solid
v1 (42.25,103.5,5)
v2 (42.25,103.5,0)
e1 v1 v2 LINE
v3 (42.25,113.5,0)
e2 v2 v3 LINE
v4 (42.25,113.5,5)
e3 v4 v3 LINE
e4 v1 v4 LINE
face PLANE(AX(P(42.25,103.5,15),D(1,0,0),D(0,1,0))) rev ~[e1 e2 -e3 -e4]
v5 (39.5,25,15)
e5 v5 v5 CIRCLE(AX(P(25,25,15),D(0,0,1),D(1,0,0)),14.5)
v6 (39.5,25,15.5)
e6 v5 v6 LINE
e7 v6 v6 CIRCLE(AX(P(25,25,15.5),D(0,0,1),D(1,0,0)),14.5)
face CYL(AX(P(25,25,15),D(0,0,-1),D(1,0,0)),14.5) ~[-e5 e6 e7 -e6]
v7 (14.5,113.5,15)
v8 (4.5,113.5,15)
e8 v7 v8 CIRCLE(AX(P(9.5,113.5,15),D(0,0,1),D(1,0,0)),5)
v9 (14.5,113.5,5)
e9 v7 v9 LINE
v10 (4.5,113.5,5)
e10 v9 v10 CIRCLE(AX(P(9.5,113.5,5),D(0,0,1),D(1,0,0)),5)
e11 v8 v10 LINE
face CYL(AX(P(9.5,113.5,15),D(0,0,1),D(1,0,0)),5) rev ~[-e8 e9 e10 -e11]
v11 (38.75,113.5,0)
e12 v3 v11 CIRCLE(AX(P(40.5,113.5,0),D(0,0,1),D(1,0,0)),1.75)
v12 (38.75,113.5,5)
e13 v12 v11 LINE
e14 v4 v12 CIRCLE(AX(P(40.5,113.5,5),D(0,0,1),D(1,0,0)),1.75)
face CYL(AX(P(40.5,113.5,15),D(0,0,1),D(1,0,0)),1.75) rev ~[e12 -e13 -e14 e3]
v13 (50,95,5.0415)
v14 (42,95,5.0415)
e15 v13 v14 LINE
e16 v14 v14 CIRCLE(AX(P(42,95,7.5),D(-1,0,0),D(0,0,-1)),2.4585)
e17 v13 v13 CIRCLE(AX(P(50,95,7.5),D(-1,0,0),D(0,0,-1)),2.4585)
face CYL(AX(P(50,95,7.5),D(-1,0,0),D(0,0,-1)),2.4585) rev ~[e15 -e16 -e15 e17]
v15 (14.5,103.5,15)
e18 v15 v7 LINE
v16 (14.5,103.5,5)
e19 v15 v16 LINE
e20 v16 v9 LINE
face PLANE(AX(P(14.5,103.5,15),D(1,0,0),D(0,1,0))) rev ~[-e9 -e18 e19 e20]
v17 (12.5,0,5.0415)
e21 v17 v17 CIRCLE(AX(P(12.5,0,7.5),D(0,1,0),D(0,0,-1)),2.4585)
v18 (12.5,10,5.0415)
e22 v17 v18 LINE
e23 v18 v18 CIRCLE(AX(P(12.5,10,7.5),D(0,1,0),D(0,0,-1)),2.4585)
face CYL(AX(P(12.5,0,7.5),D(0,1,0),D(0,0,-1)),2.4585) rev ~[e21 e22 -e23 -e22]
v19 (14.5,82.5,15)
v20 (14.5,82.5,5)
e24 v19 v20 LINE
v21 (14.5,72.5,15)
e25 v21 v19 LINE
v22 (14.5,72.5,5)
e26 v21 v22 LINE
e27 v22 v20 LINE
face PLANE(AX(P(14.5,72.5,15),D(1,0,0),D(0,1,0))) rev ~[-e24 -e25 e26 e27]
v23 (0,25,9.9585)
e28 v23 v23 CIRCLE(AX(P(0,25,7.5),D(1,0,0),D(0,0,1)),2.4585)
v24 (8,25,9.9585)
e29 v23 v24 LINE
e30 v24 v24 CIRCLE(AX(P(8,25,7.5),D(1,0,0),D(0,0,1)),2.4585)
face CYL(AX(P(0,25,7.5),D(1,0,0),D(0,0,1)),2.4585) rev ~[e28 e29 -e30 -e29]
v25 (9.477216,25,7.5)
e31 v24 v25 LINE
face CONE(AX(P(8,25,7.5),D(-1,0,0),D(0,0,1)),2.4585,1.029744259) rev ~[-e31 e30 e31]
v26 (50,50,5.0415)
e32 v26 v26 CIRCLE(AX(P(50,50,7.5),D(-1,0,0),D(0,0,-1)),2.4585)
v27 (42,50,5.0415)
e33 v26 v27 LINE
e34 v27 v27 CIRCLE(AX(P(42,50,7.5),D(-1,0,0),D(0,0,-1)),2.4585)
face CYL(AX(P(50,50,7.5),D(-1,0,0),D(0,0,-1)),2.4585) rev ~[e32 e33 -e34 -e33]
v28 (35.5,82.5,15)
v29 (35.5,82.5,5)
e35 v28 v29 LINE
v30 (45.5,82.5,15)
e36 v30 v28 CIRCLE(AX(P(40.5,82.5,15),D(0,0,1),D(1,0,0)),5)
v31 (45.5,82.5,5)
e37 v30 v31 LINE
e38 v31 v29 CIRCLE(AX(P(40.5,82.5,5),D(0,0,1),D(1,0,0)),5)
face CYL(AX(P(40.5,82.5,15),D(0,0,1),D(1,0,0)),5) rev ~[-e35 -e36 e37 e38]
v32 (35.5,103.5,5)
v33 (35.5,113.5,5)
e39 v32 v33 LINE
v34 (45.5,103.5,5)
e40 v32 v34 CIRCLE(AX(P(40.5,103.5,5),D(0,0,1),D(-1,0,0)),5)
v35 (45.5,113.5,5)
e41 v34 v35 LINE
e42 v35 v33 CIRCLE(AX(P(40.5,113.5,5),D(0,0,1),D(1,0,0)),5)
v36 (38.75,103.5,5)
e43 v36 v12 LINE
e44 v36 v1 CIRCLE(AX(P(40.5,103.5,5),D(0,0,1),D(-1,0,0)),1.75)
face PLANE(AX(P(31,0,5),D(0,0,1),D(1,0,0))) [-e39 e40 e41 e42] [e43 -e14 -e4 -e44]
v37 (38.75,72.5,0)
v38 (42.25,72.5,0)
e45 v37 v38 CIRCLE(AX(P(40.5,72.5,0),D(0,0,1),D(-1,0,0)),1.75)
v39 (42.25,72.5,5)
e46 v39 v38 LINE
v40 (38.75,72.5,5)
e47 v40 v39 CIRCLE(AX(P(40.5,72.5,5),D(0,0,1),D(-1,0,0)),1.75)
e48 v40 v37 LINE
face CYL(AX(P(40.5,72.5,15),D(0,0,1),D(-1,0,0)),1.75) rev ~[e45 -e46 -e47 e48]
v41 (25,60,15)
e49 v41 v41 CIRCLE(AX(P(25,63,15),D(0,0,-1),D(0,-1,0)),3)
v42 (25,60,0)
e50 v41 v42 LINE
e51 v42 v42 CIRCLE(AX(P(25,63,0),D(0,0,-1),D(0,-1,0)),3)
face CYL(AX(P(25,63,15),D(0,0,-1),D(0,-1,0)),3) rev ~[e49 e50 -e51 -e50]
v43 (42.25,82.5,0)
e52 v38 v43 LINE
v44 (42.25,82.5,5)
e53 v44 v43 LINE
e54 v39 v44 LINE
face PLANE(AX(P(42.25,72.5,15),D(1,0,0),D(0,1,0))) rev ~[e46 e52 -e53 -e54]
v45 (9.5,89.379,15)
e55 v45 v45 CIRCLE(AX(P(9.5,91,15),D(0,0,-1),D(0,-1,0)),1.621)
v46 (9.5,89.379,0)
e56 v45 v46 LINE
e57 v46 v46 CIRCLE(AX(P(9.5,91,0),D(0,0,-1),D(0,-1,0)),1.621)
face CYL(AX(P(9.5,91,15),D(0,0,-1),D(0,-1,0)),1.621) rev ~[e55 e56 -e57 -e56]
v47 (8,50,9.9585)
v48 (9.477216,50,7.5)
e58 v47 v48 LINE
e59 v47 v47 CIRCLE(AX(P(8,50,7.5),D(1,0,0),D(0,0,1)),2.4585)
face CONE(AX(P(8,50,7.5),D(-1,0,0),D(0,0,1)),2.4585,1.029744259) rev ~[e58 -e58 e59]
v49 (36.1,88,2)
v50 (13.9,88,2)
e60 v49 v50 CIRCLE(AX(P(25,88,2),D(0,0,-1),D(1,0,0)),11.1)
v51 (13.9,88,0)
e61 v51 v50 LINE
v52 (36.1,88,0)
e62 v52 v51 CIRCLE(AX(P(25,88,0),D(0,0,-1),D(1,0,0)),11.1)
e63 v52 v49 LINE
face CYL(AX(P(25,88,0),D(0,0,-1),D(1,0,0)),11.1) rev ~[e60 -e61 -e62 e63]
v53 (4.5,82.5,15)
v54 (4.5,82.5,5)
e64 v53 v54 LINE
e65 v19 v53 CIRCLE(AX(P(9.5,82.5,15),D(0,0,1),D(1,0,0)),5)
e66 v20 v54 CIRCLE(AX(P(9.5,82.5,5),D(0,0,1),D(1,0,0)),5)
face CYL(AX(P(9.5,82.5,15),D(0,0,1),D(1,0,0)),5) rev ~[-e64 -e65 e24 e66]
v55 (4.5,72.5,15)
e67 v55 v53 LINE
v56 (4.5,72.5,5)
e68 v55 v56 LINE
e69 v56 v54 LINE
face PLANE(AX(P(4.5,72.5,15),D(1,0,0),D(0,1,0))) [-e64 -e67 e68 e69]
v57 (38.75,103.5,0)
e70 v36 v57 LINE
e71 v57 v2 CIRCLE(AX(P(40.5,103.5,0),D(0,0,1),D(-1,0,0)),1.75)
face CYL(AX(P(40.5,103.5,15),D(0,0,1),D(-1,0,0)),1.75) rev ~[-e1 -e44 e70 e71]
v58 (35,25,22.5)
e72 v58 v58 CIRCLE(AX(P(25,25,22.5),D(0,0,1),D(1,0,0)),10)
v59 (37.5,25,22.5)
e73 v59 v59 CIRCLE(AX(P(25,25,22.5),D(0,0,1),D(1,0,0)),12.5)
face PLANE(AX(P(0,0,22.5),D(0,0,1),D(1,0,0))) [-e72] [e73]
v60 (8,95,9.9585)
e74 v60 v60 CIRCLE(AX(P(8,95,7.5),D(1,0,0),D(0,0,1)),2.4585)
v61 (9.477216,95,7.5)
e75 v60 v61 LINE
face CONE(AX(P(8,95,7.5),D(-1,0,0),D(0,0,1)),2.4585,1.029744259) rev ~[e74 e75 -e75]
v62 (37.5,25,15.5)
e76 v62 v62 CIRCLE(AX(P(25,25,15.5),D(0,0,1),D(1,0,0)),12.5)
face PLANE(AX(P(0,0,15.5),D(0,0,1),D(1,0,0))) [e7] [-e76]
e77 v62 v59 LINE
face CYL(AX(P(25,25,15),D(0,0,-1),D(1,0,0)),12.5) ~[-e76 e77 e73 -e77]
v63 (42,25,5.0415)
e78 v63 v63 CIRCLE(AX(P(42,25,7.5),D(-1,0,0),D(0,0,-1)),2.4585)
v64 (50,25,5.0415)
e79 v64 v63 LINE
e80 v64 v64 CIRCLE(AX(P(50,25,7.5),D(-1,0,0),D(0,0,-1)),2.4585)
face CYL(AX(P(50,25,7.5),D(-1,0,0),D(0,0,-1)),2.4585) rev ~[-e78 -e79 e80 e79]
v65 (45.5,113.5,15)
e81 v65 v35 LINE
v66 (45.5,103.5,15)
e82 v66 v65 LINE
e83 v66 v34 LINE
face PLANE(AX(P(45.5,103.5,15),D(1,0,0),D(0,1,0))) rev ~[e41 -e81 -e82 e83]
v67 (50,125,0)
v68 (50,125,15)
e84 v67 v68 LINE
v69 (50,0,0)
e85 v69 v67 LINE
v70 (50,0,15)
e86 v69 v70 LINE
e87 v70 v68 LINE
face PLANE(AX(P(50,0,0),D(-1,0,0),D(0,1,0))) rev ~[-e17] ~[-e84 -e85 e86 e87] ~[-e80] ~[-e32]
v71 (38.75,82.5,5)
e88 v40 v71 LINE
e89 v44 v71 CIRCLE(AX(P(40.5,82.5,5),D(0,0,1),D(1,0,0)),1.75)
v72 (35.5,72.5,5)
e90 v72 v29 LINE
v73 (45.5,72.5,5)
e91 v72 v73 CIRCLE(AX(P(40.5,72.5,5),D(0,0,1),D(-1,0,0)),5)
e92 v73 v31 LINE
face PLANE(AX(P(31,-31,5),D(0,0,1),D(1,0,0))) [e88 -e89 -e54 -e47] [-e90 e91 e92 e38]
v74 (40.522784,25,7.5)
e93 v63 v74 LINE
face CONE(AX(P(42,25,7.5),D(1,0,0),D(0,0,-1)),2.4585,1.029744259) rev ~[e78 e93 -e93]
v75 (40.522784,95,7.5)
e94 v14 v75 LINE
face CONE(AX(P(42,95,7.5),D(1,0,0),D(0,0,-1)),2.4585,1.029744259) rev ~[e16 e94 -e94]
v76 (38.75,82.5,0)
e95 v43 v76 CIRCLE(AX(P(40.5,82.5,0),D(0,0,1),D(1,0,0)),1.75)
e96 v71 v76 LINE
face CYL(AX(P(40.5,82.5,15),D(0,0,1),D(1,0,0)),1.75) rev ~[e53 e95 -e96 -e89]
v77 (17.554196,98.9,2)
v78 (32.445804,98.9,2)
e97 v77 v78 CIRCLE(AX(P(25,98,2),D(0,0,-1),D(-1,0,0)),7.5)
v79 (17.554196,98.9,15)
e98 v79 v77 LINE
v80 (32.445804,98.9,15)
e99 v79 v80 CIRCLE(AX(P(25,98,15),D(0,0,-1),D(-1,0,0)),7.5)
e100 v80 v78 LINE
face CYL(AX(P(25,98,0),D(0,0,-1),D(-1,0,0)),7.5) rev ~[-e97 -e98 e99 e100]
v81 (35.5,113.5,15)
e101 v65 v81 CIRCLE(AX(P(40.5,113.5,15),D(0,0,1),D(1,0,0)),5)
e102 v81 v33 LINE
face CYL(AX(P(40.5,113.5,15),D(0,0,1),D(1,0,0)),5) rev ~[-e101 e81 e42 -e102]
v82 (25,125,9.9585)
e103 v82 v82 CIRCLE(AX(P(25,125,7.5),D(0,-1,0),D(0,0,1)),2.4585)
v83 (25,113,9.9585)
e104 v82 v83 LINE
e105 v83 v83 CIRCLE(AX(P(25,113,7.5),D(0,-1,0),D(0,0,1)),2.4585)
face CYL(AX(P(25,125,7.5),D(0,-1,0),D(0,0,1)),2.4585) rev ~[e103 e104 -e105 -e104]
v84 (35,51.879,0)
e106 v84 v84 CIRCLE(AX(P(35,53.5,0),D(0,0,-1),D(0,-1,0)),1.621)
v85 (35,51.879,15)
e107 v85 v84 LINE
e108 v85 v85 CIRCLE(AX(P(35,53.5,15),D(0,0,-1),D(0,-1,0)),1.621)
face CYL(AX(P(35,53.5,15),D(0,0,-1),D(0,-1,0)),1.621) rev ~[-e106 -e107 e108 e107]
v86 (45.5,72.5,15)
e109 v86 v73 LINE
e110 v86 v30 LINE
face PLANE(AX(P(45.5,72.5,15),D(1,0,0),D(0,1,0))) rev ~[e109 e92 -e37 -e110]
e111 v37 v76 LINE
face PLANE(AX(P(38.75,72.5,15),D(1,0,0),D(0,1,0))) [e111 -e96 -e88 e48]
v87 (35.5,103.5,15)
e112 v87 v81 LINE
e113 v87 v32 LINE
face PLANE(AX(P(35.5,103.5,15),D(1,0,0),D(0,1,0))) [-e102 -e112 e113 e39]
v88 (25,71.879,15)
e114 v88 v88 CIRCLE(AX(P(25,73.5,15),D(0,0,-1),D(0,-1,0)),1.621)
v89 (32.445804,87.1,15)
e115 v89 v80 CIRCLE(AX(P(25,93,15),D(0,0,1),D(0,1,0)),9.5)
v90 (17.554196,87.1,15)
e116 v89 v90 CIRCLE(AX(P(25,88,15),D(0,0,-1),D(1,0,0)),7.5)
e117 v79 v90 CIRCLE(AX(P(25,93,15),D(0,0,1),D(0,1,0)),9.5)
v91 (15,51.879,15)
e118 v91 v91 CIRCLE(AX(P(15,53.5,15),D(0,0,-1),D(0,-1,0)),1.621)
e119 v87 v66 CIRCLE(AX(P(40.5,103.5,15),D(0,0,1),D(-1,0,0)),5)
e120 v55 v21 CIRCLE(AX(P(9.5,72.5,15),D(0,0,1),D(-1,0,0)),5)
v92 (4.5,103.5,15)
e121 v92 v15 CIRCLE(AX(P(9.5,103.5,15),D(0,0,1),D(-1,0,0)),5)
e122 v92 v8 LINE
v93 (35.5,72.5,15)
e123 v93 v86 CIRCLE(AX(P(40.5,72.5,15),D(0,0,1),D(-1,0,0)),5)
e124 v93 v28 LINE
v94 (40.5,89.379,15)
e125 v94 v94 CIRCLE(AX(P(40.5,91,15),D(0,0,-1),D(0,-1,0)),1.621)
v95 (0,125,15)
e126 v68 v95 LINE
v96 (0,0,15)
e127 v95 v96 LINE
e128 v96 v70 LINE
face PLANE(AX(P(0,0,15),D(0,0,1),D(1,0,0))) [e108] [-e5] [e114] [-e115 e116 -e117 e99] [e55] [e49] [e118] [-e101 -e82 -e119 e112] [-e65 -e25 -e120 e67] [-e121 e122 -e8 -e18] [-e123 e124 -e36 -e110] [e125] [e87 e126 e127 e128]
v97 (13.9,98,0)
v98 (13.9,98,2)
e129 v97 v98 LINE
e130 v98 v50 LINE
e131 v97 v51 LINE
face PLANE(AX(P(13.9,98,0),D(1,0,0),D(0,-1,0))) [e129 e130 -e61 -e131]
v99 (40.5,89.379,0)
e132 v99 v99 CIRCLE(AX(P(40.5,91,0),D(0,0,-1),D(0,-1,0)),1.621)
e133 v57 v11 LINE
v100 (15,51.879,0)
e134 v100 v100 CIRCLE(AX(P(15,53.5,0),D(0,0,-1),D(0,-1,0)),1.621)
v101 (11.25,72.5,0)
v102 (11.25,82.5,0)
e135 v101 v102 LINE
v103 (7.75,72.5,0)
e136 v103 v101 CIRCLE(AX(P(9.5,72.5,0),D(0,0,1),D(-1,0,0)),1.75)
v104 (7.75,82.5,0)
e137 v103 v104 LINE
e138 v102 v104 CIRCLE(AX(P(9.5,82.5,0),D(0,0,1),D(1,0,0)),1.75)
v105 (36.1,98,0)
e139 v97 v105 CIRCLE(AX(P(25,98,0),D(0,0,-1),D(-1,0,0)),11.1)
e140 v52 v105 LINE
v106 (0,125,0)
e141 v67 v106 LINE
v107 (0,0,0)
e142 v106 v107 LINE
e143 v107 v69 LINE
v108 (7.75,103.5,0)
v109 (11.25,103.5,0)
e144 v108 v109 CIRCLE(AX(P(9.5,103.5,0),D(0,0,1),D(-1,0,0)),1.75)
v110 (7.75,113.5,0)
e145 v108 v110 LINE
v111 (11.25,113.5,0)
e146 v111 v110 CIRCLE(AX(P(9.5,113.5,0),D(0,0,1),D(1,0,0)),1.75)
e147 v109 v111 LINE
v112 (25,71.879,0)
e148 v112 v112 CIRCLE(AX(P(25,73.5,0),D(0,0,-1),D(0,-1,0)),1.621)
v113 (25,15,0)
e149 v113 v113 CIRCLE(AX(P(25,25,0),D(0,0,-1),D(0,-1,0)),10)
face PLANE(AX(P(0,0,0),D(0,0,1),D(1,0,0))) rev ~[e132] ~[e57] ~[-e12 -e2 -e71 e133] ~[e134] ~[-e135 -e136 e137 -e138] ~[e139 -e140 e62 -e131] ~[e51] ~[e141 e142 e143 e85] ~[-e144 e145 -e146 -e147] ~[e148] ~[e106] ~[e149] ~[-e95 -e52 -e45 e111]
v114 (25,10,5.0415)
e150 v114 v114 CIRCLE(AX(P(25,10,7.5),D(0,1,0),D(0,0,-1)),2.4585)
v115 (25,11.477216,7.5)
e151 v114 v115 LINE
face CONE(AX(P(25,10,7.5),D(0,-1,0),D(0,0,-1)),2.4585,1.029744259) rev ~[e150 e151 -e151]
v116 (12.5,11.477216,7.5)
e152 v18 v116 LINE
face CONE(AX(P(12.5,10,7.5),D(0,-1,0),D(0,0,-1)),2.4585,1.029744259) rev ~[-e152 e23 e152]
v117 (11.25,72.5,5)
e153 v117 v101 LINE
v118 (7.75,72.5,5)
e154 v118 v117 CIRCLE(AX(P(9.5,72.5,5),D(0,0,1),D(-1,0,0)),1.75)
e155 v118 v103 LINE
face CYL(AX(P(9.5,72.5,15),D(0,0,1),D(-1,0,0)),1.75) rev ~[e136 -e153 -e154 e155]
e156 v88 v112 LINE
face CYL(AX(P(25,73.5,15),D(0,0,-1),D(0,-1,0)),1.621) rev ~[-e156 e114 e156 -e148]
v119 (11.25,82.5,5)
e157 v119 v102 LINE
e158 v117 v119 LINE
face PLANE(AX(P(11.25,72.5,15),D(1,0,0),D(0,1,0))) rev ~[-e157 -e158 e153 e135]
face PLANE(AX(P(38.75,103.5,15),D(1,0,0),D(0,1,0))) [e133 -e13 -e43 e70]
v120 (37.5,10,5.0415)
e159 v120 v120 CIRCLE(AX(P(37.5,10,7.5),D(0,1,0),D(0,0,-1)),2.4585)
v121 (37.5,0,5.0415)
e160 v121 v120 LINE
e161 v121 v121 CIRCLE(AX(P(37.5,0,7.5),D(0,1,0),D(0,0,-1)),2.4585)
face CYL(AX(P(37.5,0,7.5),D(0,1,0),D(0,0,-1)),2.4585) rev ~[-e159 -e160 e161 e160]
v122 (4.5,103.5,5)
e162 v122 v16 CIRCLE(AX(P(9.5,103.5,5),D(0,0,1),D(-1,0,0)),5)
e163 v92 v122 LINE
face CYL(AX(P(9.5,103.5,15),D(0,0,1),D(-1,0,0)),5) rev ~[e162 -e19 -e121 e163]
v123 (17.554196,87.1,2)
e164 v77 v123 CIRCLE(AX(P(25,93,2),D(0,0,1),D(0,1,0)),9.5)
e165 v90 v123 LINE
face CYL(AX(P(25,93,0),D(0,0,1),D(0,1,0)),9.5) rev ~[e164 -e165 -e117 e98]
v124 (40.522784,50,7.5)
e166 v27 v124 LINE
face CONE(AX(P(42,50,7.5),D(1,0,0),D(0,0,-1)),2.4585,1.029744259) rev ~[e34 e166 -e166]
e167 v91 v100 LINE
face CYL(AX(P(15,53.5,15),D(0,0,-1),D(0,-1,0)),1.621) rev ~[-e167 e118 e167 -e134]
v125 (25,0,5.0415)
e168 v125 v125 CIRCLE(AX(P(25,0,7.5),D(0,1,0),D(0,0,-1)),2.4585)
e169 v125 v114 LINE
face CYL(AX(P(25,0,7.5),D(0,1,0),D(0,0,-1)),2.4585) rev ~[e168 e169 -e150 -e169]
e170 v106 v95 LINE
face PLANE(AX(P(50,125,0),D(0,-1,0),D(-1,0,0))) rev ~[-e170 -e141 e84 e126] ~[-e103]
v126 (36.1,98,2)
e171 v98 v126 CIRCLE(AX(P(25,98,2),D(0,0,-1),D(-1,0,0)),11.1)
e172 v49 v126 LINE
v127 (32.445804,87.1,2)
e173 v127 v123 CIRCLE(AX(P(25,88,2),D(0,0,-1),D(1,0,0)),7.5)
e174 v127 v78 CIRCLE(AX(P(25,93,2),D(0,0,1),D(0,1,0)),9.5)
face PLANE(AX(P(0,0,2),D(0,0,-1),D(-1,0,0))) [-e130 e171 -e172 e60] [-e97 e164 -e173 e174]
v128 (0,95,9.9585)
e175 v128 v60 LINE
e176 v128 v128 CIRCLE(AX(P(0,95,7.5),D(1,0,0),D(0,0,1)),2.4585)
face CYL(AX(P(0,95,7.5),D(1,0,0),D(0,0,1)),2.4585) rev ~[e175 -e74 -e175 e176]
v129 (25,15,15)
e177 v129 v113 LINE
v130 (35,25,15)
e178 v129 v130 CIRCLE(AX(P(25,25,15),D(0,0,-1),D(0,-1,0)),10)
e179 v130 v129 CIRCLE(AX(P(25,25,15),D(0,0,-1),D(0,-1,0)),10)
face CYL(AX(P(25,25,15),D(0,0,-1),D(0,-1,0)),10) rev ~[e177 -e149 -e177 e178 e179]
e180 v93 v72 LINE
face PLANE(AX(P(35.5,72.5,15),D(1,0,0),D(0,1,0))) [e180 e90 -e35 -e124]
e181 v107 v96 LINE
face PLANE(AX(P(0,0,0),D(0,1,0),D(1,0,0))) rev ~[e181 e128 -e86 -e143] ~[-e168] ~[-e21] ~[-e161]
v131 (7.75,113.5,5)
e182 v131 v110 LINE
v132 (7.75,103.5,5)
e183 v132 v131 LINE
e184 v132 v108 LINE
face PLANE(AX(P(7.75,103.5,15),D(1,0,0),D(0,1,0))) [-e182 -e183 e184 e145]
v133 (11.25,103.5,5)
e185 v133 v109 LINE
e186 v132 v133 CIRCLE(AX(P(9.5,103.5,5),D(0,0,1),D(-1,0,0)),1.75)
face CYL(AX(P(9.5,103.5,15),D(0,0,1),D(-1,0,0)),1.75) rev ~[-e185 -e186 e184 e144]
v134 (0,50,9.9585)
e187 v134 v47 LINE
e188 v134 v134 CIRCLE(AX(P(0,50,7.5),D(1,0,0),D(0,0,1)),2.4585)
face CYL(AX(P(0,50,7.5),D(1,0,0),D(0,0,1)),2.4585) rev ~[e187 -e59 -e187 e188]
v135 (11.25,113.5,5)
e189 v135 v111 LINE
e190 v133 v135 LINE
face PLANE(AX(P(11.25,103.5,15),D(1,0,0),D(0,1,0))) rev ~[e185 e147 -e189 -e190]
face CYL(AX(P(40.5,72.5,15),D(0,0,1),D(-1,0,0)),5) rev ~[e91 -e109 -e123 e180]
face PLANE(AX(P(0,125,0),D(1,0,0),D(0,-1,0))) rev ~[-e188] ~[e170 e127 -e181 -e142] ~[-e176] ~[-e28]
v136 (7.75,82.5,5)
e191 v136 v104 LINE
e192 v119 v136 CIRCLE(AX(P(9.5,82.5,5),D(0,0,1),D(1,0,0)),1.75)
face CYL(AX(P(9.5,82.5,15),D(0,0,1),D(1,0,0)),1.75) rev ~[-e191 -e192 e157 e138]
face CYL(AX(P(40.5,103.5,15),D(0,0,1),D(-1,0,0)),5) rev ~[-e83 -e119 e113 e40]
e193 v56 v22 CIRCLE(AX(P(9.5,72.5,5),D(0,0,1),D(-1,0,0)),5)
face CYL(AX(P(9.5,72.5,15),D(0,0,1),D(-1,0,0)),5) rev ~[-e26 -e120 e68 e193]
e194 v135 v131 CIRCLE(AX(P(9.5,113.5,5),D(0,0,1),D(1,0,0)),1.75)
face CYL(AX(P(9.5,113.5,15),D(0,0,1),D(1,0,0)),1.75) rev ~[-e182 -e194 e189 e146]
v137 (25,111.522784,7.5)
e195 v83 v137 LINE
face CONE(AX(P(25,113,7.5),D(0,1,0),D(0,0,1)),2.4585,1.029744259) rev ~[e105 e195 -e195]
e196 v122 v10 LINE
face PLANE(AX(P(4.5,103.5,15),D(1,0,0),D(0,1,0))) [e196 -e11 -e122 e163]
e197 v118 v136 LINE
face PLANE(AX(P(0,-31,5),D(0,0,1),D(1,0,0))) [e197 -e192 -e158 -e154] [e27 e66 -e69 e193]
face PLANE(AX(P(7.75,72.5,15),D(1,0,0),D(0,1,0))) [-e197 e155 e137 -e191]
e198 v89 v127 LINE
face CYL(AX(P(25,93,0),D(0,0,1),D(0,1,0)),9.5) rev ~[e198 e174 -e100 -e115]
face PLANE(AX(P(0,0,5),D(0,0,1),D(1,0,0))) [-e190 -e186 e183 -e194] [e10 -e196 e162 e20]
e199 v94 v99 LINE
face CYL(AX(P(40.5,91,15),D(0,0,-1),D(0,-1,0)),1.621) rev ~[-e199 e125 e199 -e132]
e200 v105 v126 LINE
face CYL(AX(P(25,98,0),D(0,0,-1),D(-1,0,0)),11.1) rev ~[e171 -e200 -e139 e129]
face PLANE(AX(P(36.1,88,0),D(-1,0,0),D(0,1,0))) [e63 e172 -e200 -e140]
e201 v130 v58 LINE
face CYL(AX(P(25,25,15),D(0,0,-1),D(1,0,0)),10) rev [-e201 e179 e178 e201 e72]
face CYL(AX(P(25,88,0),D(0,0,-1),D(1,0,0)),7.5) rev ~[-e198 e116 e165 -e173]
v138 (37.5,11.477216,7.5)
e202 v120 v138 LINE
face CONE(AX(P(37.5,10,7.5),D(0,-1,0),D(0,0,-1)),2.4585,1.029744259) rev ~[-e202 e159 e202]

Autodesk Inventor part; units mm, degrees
ref_plane "YZ Plane" through (0, 0, 0) normal (1, 0, 0) x (0, 1, 0)
ref_plane "XZ Plane" through (0, 0, 0) normal (0, 1, 0) x (-1, 0, 0)
ref_plane "XY Plane" through (0, 0, 0) normal (0, 0, 1) x (1, 0, 0)
sketch "Sketch1" plane through (0, 0, 0) normal (0, 0, 1) x (1, 0, 0)
  line L0 (0, 0) -> (50, 0)
  line L1 (50, 0) -> (50, 125)
  line L2 (50, 125) -> (0, 125)
  line L3 (0, 125) -> (0, 0)
  dimension "d0" = 50
  dimension "d1" = 125
extrude "Extrusion1" add sketch "Sketch1" along normal blind 15
sketch "Sketch2" plane through (0, 0, 15) normal (0, 0, 1) x (1, 0, 0)
  point P0 (25, 25)
hole "Hole1" at (25, 25, 15) direction (0, 0, -1) diameter 20 end through all
sketch "Sketch3" plane through (0, 0, 15) normal (0, 0, 1) x (1, 0, 0)
  circle A0 centre (25, 25) radius 10 projected
  circle A1 centre (25, 25) radius 12.5
  dimension "d11" = 25
extrude "Extrusion2" add sketch "Sketch3" along normal blind 7.5
sketch "Sketch4" plane through (0, 0, 0) normal (0, -1, 0) x (1, 0, 0)
  line L0 (50, 0) -> (50, 15) projected
  line L1 (50, 15) -> (0, 15) projected
  point P0 (12.5, 7.5)
  point P1 (25, 7.5)
  point P2 (37.5, 7.5)
  dimension "d14" = 12.5
  dimension "d15" = 12.5
  dimension "d16" = 12.5
  dimension "d152" = 7.5
  dimension "d153" = 7.5
  dimension "d154" = 7.5
hole "Hole2" at (12.5, 0, 7.5) at (25, 0, 7.5) at (37.5, 0, 7.5) direction (0, 1, 0) diameter 4.917 depth 10 tip angle 118 thread size "M6x1" class "6H" standard "ANSI Metric M Profile"
sketch "Sketch10" plane through (50, 0, 0) normal (1, 0, 0) x (0, 0, -1)
  line L0 (-15, 125) -> (-15, 0) projected
  line L1 (0, 0) -> (-15, 0) projected
  line L2 (0, 125) -> (-15, 125) projected
  point P0 (-7.5, 25)
  point P1 (-7.5, 50)
  point P2 (-7.5, 95)
  dimension "d112" = 7.5
  dimension "d113" = 25
  dimension "d114" = 25
  dimension "d118" = 30
  dimension "d150" = 7.5
hole "Hole8" at (50, 25, 7.5) at (50, 50, 7.5) at (50, 95, 7.5) direction (-1, 0, 0) diameter 4.917 depth 8 tip angle 118 thread size "M6x1" class "6H" standard "ANSI Metric M Profile"
sketch "Sketch11" plane through (0, 0, 0) normal (-1, 0, 0) x (0, 0, 1)
  circle A0 centre (7.5, 25) radius 2.4585 projected
  line L0 (0, 125) -> (15, 125) projected
  line L1 (0, 0) -> (15, 0) projected
  line L2 (15, 0) -> (15, 125) projected
  point P0 (7.5, 50)
  point P1 (7.5, 95)
  dimension "d119" = 25
  dimension "d120" = 25
  dimension "d121" = 30
  dimension "d151" = 7.5
hole "Hole9" at (0, 25, 7.5) at (0, 50, 7.5) at (0, 95, 7.5) direction (1, 0, 0) diameter 4.917 depth 8 tip angle 118 thread size "M6x1" class "6H" standard "ANSI Metric M Profile"
sketch "Skizze12" plane through (0, 0, 0) normal (0, 0, -1) x (-1, 0, 0)
  line L0 (-50, 0) -> (-50, 125) projected
  line L1 (-50, 125) -> (0, 125) projected
  arc A0 (-17.5, 98) -> (-32.5, 98) centre (-25, 98) ccw
  arc A1 (-32.5, 88) -> (-17.5, 88) centre (-25, 88) ccw
  line L2 (-32.5, 88) -> (-32.5, 98)
  line L3 (-17.5, 98) -> (-17.5, 88)
  arc A2 (-36.1, 88) -> (-13.9, 88) centre (-25, 88) ccw
  line L4 (-36.1, 88) -> (-36.1, 98)
  line L5 (-13.9, 98) -> (-13.9, 88)
  arc A3 (-13.9, 98) -> (-36.1, 98) centre (-25, 98) ccw
  point P0 (-45, 115)
  point P1 (-50, 110)
  point P2 (-5, 115)
  point P3 (0, 125)
  point P4 (-25, 93)
  dimension "d80" = 15
  dimension "d81" = 25
  dimension "d82" = 27
  dimension "d83" = 15
  dimension "d84" = 10
  dimension "d86" = 22.2
extrude "Extrusion5" cut sketch "Skizze12" against normal blind 17 contours L3 A1 L2 A0
extrude "Extrusion6" cut sketch "Skizze12" against normal blind 2
sketch "Skizze13" plane through (0, 0, 15) normal (0, 0, 1) x (1, 0, 0)
  arc A0 (32.5, 98) -> (17.5, 98) centre (25, 98) ccw projected
  arc A1 (11.25, 113.5) -> (7.75, 113.5) centre (9.5, 113.5) ccw
  arc A2 (7.75, 103.5) -> (11.25, 103.5) centre (9.5, 103.5) ccw
  arc A3 (14.5, 113.5) -> (4.5, 113.5) centre (9.5, 113.5) ccw
  arc A4 (4.5, 103.5) -> (14.5, 103.5) centre (9.5, 103.5) ccw
  line L0 (4.5, 103.5) -> (4.5, 113.5)
  line L1 (14.5, 103.5) -> (14.5, 113.5)
  line L2 (7.75, 103.5) -> (7.75, 113.5)
  line L3 (11.25, 103.5) -> (11.25, 113.5)
  dimension "d95" = 3.5
  dimension "d96" = 3.5
  dimension "d97" = 10
  dimension "d98" = 15.5
  dimension "d99" = 10
  dimension "d100" = 10
  dimension "d111" = 15.5
extrude "Extrusion7" cut sketch "Skizze13" against normal blind 17 contours L3 A2 L2 A1
extrude "Extrusion8" cut sketch "Skizze13" against normal blind 10
pattern_linear "Rechteckige Anordnung1" count 2 spacing 31 along (0, -1, 0) count 2 spacing 31 along (1, 0, 0) of "Extrusion8", "Extrusion7"
sketch "Skizze14" plane through (0, 125, 0) normal (0, 1, 0) x (1, 0, 0)
  line L0 (50, 0) -> (50, -15) projected
  line L1 (0, -15) -> (50, -15) projected
  point P0 (25, -7.5)
  dimension "d124" = 25
  dimension "d155" = 7.5
hole "Bohrung10" at (25, 125, 7.5) direction (0, -1, 0) diameter 4.917 depth 12 tip angle 118 thread size "M6x1" class "6H" standard "ANSI Metric M Profile"
sketch "Skizze15" plane through (0, 0, 15) normal (0, 0, 1) x (1, 0, 0)
  arc A0 (32.5, 98) -> (17.5, 98) centre (25, 98) ccw projected
  point P0 (9.5, 91)
  point P1 (40.5, 91)
  point P2 (25, 73.5)
  point P3 (35, 53.5)
  point P4 (15, 53.5)
  dimension "d132" = 17.5
  dimension "d133" = 17.5
  dimension "d134" = 7
  dimension "d159" = 20
  dimension "d160" = 10
  dimension "d161" = 10
  dimension "d162" = 20
hole "Bohrung11" at (9.5, 91, 15) at (40.5, 91, 15) at (25, 73.5, 15) at (35, 53.5, 15) at (15, 53.5, 15) direction (0, 0, -1) diameter 3.242 end through all thread size "M4x0.7" class "6H" standard "ANSI Metric M Profile"
sketch "Skizze16" plane through (0, 0, 15) normal (0, 0, 1) x (1, 0, 0)
  arc A0 (17.5, 88) -> (32.5, 88) centre (25, 88) ccw projected
  point P0 (25, 63)
  dimension "d142" = 25
hole "Bohrung12" at (25, 63, 15) direction (0, 0, -1) diameter 6 end through all
sketch "Skizze17" plane through (0, 0, 15) normal (0, 0, 1) x (1, 0, 0)
  circle A0 centre (25, 25) radius 12.5 projected
  circle A1 centre (25, 25) radius 14.5
  dimension "d163" = 29
extrude "Extrusion9" add sketch "Skizze17" along normal blind 0.5
hole "Bohrung13" at (25, 93, 0) direction (0, 0, 1) diameter 19 end through all
equation "\"d83\" = d80"
equation "\"d96\" = d95"
equation "\"d100\" = d99"
equation "\"d133\" = d132"
equation "\"d161\" = d160"
equation "\"d162\" = d159"
properties part number "lower_part_01"
